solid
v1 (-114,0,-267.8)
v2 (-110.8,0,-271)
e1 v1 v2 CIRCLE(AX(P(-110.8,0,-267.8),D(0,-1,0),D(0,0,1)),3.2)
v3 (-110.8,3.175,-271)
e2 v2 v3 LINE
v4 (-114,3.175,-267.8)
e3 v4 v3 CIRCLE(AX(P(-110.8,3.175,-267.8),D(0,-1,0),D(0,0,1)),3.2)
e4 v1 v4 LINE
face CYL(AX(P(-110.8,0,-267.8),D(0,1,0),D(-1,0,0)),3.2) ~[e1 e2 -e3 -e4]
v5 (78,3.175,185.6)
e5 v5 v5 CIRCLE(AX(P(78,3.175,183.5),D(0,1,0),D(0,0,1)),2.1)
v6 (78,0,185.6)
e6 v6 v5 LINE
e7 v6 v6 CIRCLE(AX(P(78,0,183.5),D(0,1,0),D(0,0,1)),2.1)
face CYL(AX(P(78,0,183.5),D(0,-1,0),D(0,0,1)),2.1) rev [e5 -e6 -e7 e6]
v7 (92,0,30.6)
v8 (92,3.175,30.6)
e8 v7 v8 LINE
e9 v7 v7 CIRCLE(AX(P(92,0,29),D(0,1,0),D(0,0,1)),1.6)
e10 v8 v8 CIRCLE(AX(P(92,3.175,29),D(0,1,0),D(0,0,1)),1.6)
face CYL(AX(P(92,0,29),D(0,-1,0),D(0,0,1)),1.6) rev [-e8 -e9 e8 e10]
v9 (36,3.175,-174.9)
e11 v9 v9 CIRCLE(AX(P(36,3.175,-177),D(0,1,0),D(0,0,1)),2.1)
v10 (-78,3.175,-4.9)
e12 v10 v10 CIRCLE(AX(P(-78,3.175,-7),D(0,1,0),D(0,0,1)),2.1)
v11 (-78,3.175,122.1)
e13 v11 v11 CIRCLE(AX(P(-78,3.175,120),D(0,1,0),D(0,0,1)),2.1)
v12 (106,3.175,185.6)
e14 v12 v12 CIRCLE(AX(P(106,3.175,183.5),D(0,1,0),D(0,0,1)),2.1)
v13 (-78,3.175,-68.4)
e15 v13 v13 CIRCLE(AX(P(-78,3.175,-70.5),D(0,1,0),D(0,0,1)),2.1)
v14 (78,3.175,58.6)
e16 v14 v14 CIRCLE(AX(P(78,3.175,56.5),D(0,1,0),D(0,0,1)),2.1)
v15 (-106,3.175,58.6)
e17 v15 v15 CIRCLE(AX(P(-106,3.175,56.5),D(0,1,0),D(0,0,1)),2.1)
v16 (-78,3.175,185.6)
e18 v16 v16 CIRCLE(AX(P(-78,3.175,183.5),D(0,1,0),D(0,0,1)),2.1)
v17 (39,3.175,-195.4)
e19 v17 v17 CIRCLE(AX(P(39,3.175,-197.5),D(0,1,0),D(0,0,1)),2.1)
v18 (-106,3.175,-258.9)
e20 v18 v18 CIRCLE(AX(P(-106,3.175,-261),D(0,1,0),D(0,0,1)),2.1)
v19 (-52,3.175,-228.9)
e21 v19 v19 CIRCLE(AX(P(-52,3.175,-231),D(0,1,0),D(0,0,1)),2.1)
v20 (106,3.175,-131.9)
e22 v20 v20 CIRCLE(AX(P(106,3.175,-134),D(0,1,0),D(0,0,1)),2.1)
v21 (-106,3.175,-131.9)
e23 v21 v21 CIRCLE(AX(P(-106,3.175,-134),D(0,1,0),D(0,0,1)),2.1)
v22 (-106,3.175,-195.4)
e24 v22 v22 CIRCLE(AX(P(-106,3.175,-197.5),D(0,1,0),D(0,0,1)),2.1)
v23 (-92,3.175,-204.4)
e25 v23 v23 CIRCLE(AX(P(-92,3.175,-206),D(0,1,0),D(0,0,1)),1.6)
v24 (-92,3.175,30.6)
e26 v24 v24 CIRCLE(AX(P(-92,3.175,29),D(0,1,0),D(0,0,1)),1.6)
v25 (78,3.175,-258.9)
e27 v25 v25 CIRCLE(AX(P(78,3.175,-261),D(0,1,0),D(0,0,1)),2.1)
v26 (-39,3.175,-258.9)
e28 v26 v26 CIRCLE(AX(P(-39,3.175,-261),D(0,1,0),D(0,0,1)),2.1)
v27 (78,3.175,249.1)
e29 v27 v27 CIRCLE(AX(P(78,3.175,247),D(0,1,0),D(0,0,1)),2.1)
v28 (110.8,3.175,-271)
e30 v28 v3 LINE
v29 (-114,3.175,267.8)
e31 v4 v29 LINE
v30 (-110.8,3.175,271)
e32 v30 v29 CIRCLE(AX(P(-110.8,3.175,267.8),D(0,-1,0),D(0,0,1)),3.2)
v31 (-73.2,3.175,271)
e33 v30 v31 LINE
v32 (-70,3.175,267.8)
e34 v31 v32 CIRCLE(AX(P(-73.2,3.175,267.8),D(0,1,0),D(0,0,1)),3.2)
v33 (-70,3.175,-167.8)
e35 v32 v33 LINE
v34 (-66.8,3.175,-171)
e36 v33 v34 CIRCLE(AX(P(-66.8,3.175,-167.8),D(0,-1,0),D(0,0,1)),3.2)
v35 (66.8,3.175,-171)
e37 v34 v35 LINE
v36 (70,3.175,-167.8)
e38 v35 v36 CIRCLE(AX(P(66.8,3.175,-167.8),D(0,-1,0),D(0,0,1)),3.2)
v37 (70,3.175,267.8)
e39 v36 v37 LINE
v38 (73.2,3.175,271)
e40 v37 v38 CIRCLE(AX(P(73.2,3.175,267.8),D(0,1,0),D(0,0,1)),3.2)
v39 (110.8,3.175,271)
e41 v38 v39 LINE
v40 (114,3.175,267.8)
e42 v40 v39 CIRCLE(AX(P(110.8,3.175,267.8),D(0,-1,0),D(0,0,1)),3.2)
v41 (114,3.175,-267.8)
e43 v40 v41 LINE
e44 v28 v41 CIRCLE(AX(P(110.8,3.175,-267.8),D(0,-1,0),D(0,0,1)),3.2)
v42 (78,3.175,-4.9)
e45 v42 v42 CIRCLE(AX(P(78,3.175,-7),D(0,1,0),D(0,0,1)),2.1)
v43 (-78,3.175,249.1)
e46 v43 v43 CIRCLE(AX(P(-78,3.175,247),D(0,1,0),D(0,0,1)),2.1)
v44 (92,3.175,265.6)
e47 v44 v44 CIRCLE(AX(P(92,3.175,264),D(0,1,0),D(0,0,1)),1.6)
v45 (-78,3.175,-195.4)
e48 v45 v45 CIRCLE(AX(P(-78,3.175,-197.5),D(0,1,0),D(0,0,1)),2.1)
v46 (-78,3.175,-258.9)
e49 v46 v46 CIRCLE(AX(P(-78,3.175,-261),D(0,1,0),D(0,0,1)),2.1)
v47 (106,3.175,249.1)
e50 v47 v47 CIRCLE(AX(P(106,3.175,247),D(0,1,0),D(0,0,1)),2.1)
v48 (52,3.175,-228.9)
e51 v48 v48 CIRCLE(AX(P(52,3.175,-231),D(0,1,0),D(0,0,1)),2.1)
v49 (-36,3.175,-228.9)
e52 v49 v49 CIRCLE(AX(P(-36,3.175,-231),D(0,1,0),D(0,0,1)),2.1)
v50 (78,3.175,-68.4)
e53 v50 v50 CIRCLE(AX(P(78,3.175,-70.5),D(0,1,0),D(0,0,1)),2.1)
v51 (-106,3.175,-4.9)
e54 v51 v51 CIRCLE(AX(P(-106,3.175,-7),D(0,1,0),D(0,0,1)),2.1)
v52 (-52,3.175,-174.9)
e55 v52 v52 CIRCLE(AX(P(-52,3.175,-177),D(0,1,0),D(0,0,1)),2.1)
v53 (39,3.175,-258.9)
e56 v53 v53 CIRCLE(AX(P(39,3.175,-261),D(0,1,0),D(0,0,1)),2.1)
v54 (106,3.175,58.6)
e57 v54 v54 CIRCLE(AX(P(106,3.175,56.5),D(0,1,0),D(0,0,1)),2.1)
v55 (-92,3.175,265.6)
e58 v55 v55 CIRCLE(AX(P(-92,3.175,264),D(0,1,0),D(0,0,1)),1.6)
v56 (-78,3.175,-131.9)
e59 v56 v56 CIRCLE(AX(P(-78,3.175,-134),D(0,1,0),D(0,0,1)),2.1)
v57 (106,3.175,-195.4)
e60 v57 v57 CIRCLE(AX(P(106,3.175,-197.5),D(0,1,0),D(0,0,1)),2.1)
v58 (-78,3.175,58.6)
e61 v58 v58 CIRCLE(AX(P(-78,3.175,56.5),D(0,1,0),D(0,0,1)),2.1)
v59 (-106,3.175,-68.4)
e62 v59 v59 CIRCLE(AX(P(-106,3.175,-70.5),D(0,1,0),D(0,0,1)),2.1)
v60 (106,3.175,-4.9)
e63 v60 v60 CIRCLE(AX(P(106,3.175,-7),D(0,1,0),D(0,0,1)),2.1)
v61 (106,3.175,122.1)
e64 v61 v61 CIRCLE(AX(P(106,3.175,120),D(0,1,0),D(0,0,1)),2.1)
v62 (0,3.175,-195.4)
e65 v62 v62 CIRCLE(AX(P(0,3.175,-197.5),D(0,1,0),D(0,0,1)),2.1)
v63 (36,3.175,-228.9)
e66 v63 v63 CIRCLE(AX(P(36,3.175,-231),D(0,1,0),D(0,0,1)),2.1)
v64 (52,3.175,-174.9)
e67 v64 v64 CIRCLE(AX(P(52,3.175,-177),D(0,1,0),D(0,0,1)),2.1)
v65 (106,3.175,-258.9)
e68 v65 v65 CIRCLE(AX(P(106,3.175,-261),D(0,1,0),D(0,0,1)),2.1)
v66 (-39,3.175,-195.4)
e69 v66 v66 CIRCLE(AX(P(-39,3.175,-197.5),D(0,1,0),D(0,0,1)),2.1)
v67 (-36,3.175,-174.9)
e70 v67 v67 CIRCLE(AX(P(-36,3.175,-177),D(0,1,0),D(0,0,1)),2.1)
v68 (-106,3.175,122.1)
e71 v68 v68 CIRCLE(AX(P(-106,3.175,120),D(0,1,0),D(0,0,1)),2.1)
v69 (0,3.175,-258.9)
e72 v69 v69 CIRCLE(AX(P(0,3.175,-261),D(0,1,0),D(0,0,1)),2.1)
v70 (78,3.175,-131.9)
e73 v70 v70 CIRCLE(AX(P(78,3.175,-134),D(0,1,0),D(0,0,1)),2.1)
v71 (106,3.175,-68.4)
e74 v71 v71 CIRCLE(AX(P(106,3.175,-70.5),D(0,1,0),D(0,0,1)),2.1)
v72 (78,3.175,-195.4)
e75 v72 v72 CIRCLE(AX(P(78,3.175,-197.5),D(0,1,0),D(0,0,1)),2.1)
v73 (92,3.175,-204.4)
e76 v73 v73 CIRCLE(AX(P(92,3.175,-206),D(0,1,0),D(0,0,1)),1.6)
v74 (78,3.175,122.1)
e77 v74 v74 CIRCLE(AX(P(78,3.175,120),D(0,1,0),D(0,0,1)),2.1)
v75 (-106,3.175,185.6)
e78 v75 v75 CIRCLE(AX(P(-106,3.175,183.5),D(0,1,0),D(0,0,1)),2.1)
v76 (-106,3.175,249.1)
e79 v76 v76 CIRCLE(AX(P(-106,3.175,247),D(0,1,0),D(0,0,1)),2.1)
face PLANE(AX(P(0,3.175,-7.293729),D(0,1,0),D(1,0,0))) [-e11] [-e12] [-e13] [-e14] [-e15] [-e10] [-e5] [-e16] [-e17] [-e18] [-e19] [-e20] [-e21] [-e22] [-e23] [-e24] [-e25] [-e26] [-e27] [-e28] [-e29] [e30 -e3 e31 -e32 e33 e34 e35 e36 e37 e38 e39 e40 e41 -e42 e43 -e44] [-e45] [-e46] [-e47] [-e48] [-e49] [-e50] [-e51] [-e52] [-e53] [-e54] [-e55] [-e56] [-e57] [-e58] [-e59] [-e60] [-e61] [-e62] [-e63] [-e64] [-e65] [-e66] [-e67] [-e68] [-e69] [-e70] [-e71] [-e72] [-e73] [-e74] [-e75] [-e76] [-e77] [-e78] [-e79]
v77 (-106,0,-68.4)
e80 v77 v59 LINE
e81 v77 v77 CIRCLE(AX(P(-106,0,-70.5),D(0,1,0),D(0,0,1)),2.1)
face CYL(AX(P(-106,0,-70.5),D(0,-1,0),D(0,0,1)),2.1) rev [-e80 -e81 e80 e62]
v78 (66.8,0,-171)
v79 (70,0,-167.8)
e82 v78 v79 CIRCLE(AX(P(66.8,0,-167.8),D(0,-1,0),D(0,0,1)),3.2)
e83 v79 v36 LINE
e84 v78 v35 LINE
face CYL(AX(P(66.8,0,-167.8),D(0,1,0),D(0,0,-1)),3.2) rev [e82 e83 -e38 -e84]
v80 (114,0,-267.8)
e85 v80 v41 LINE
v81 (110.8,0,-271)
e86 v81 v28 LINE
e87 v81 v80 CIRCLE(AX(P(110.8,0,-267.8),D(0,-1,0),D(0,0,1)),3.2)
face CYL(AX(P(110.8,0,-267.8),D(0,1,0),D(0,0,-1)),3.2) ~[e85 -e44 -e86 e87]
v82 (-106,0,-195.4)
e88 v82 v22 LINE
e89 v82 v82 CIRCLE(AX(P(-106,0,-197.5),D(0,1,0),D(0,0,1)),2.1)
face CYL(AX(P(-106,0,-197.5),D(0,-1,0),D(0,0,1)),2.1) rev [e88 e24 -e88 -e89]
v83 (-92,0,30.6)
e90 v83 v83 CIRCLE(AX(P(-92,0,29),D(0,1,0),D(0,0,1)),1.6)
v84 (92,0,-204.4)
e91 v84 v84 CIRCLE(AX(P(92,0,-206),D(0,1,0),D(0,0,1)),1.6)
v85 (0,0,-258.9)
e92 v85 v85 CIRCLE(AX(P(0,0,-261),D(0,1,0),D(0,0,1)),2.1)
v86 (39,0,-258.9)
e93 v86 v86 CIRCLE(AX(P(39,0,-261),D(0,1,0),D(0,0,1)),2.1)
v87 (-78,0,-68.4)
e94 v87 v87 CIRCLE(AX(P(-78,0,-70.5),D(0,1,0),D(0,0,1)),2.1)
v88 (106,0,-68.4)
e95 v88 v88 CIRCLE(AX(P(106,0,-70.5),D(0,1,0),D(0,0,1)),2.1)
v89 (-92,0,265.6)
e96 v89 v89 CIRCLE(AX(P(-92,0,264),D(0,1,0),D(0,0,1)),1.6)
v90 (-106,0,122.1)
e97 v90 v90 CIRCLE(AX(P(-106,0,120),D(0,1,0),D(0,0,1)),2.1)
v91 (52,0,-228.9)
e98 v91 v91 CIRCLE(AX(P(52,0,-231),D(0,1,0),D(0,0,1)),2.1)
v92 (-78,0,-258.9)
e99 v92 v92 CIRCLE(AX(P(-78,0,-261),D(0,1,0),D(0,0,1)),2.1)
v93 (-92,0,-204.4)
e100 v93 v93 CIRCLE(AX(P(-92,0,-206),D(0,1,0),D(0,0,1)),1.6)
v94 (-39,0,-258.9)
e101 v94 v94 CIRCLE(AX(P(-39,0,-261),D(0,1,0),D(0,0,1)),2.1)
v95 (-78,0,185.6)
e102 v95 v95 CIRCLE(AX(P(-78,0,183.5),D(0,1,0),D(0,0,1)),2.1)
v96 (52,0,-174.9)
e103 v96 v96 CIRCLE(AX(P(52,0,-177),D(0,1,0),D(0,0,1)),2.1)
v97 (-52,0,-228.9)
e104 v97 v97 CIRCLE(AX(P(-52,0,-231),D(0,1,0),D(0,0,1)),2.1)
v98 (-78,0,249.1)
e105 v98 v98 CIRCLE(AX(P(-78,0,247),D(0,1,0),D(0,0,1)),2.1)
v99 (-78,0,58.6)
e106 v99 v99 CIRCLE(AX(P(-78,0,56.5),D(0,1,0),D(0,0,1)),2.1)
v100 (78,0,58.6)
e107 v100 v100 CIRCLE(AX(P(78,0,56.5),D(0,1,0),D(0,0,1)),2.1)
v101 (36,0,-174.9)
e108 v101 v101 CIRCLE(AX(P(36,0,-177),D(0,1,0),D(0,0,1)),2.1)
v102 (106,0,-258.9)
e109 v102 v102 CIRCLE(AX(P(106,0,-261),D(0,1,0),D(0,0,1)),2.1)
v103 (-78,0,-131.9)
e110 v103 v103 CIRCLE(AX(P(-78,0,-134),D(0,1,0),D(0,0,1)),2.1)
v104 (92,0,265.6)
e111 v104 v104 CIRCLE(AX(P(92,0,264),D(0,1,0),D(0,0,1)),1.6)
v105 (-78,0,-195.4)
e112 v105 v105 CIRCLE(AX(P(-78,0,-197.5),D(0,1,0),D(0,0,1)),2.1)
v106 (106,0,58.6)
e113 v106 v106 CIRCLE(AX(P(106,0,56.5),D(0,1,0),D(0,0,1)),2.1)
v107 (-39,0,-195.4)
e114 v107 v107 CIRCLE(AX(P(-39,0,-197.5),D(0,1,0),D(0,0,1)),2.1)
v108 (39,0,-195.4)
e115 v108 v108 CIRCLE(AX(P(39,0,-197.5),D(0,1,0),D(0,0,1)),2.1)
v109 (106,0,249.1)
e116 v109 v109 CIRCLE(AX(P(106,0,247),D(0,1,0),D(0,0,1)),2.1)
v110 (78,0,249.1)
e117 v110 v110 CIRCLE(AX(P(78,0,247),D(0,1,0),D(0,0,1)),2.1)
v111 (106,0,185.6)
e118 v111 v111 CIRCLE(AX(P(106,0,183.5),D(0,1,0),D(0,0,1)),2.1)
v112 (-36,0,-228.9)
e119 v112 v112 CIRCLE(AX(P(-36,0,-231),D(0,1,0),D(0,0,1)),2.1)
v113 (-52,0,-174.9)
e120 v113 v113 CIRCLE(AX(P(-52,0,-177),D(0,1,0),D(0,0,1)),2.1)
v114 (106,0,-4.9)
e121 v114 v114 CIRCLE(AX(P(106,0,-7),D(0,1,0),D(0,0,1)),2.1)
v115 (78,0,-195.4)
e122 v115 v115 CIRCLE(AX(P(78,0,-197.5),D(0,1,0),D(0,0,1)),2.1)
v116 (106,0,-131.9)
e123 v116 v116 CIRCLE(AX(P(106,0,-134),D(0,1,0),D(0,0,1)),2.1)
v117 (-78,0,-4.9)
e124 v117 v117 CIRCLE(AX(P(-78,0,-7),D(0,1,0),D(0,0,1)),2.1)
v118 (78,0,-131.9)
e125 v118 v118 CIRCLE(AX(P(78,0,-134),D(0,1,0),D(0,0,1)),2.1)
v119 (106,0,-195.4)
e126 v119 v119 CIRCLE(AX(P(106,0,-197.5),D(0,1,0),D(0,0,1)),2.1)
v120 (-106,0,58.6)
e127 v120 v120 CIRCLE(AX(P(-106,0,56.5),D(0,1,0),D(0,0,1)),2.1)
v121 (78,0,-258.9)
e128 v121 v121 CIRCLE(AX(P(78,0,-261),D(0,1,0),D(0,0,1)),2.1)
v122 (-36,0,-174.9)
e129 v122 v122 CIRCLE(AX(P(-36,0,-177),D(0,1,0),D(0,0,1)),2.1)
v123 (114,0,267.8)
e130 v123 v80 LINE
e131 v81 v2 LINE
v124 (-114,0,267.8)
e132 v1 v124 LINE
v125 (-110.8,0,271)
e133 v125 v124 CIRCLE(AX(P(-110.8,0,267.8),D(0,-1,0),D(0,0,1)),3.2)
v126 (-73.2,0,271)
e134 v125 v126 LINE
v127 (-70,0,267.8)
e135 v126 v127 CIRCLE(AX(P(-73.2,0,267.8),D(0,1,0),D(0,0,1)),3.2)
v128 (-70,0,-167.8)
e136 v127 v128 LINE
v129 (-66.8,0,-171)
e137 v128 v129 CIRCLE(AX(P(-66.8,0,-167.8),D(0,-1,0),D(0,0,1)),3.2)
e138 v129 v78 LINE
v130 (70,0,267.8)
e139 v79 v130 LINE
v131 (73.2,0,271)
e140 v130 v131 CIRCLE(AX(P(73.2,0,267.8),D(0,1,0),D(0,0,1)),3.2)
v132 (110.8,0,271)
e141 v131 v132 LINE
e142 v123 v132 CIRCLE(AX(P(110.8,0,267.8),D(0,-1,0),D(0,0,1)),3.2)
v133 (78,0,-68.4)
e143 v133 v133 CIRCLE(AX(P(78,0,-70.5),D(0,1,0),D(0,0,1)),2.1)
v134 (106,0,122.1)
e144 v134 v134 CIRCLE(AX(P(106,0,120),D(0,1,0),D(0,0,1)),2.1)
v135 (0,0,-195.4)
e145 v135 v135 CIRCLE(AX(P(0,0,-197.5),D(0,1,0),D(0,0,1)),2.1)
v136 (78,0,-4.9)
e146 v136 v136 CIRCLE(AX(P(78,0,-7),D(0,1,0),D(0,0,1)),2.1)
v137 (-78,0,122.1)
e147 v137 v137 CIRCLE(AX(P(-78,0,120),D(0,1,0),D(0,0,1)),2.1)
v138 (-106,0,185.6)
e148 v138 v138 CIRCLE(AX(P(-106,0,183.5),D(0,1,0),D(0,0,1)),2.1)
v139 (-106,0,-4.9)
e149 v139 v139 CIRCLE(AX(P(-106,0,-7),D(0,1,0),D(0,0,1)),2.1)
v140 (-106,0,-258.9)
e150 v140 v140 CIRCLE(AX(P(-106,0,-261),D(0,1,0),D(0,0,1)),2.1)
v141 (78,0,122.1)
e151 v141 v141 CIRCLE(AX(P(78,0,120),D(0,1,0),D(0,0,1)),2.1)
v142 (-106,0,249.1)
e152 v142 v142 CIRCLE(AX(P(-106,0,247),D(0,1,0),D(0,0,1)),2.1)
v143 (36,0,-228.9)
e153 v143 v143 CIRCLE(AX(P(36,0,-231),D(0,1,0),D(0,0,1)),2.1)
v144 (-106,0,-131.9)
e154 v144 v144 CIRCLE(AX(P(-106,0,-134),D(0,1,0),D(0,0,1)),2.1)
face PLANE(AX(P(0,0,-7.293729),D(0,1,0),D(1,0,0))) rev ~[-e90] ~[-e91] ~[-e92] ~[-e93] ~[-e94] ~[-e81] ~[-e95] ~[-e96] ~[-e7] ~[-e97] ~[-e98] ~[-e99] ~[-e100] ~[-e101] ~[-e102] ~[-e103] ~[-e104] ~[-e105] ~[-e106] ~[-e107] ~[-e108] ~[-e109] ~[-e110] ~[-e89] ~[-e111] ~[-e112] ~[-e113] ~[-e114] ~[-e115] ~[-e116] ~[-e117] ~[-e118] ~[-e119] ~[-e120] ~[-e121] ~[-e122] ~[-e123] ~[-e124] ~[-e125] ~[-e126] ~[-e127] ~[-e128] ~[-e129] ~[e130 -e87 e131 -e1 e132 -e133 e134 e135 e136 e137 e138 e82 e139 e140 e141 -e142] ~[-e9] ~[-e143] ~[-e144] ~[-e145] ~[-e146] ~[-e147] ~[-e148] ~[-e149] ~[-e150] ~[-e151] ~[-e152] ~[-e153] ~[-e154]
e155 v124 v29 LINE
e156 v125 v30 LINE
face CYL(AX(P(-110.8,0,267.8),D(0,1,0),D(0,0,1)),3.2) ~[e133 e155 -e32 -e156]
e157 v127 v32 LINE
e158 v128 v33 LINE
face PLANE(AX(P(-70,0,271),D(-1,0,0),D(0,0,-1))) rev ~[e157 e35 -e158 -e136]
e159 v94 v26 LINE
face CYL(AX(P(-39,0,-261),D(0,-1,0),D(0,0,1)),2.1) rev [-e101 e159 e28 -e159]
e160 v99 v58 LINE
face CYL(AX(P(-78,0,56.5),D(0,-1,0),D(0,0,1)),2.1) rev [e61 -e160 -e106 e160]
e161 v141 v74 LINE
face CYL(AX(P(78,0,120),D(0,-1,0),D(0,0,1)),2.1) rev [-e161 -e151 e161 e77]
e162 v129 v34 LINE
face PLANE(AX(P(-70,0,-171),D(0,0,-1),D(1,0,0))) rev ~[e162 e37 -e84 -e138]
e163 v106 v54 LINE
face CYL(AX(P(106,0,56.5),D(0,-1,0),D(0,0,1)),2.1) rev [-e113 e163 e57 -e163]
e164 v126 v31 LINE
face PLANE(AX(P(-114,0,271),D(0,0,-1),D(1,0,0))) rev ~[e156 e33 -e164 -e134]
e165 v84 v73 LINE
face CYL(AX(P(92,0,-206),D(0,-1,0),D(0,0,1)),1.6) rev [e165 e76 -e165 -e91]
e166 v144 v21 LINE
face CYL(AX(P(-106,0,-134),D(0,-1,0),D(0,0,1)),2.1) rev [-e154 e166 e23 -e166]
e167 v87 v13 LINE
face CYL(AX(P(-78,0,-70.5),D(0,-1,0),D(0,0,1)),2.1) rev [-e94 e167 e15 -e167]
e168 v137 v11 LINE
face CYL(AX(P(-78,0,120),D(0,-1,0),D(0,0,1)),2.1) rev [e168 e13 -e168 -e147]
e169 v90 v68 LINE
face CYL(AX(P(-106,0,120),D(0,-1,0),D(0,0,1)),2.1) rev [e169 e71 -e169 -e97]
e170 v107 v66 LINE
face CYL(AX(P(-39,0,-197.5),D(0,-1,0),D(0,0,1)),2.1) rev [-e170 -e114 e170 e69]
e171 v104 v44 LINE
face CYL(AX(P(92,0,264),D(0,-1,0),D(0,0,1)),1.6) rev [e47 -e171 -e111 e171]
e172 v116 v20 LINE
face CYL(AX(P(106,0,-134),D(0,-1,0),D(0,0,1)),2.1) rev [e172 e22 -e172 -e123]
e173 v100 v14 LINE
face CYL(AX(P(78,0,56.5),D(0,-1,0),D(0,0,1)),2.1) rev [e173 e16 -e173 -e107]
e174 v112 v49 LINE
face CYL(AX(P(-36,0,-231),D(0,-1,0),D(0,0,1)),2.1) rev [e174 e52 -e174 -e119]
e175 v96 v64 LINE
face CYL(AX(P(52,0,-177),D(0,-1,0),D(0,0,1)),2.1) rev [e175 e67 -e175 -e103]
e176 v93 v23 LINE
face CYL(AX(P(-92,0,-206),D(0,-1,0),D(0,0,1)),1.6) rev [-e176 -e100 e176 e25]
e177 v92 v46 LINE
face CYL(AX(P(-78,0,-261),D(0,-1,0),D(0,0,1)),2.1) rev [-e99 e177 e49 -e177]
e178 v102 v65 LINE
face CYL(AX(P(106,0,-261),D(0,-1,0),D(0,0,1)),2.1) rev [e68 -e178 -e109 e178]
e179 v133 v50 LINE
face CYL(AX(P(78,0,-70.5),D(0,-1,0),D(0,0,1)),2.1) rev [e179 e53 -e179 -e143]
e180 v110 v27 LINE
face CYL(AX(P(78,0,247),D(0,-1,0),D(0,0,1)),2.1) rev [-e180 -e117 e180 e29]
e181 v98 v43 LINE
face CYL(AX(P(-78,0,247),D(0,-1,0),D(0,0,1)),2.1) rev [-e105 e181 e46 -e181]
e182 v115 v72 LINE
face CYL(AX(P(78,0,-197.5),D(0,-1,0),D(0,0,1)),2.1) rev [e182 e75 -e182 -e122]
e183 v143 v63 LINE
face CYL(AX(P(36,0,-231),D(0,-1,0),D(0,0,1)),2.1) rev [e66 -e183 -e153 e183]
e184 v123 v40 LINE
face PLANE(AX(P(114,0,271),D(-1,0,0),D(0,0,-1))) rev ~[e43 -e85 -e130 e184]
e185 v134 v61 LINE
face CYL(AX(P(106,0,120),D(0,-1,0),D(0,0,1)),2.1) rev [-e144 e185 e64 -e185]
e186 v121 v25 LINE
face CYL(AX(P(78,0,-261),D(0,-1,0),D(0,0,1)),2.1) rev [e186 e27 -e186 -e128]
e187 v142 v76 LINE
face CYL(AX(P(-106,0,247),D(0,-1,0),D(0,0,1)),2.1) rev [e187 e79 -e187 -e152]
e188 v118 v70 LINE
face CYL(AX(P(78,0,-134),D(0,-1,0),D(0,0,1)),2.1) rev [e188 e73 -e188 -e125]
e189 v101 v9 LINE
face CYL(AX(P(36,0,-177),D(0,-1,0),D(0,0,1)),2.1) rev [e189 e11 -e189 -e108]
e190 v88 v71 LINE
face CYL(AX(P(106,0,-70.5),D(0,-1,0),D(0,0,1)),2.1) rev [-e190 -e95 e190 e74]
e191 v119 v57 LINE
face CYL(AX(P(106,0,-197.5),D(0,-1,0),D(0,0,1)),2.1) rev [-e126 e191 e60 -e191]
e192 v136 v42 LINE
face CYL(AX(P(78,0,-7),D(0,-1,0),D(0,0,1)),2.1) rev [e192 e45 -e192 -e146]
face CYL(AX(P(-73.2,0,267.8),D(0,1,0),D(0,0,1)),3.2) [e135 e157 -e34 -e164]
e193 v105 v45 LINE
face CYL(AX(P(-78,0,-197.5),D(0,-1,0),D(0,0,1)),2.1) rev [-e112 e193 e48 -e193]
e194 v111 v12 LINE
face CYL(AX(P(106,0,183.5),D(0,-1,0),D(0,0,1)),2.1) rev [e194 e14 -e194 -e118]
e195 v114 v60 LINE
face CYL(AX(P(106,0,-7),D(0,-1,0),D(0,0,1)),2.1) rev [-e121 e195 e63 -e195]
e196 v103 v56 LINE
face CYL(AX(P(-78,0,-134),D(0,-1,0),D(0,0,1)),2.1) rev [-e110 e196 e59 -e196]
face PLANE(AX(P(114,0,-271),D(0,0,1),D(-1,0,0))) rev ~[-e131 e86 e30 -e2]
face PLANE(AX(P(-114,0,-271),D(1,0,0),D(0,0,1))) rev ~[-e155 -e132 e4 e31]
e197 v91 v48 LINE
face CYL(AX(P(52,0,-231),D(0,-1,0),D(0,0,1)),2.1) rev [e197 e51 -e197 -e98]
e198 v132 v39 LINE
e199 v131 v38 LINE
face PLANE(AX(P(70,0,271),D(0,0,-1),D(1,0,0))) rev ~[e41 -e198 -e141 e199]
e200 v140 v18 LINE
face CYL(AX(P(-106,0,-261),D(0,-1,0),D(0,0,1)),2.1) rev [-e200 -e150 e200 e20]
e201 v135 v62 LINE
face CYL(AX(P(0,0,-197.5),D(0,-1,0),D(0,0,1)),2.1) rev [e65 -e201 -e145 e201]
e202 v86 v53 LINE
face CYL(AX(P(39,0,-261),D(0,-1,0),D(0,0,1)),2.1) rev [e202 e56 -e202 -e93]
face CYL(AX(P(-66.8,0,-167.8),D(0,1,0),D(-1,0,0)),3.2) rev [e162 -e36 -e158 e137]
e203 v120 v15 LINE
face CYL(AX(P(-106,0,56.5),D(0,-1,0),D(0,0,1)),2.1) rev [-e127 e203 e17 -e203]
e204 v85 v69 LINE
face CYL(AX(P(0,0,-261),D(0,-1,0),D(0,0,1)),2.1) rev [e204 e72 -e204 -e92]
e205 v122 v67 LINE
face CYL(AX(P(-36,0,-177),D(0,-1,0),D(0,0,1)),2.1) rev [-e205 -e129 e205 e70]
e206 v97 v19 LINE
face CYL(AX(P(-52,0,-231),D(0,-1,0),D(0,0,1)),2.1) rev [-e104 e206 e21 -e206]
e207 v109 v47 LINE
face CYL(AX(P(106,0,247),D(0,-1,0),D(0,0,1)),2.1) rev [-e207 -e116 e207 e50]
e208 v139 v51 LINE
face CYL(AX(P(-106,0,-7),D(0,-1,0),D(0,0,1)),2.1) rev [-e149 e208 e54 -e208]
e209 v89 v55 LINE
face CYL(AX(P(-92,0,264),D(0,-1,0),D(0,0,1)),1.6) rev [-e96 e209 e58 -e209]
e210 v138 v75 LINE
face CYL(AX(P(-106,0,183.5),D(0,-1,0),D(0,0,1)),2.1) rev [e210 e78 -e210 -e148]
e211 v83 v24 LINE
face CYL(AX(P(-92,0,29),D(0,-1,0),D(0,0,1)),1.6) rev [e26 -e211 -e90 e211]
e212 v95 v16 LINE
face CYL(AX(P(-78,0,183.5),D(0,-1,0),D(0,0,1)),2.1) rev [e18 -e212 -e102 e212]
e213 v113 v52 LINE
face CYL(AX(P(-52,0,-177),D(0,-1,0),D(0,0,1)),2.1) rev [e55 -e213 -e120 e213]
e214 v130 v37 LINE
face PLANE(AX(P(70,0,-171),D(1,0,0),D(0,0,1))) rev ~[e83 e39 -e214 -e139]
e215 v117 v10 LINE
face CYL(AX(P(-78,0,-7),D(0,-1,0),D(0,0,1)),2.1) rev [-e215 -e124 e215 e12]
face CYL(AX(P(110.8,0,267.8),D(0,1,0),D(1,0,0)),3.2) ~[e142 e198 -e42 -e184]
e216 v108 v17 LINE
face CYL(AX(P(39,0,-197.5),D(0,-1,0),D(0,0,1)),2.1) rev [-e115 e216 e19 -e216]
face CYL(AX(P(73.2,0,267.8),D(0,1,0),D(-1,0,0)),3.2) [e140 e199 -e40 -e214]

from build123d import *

# Parameters (mm, degrees)
SKETCH1_R           = 2.1
SKETCH1_R_2         = 1.6
BOSS_EXTRUDE1_DEPTH = 3.175
FILLET1_R           = 3.2


with BuildPart() as part:
    # Sketch1 → Boss-Extrude1 (new body)
    with BuildSketch(Plane(origin=(0, 0, 0), x_dir=(1, 0, 0), z_dir=(0, 1, 0))):
        Polygon((-114, -271), (-70, -271), (-70, 171), (70, 171), (70, -271), (114, -271), (114, 271), (-114, 271), align=None)
        with Locations(Location((106, 261, 0), (0, 0, 270))):
            Circle(SKETCH1_R, mode=Mode.SUBTRACT)
        with Locations(Location((106, 197.5, 0), (0, 0, 270))):
            Circle(SKETCH1_R, mode=Mode.SUBTRACT)
        with Locations(Location((106, 134, 0), (0, 0, 270))):
            Circle(SKETCH1_R, mode=Mode.SUBTRACT)
        with Locations(Location((106, 70.5, 0), (0, 0, 270))):
            Circle(SKETCH1_R, mode=Mode.SUBTRACT)
        with Locations(Location((106, 7, 0), (0, 0, 270))):
            Circle(SKETCH1_R, mode=Mode.SUBTRACT)
        with Locations(Location((106, -56.5, 0), (0, 0, 270))):
            Circle(SKETCH1_R, mode=Mode.SUBTRACT)
        with Locations(Location((106, -120, 0), (0, 0, 270))):
            Circle(SKETCH1_R, mode=Mode.SUBTRACT)
        with Locations(Location((106, -183.5, 0), (0, 0, 270))):
            Circle(SKETCH1_R, mode=Mode.SUBTRACT)
        with Locations(Location((78, -247, 0), (0, 0, 270))):
            Circle(SKETCH1_R, mode=Mode.SUBTRACT)
        with Locations(Location((78, -183.5, 0), (0, 0, 270))):
            Circle(SKETCH1_R, mode=Mode.SUBTRACT)
        with Locations(Location((78, -120, 0), (0, 0, 270))):
            Circle(SKETCH1_R, mode=Mode.SUBTRACT)
        with Locations(Location((78, -56.5, 0), (0, 0, 270))):
            Circle(SKETCH1_R, mode=Mode.SUBTRACT)
        with Locations(Location((78, 7, 0), (0, 0, 270))):
            Circle(SKETCH1_R, mode=Mode.SUBTRACT)
        with Locations(Location((78, 70.5, 0), (0, 0, 270))):
            Circle(SKETCH1_R, mode=Mode.SUBTRACT)
        with Locations(Location((78, 134, 0), (0, 0, 270))):
            Circle(SKETCH1_R, mode=Mode.SUBTRACT)
        with Locations(Location((78, 197.5, 0), (0, 0, 270))):
            Circle(SKETCH1_R, mode=Mode.SUBTRACT)
        with Locations(Location((78, 261, 0), (0, 0, 270))):
            Circle(SKETCH1_R, mode=Mode.SUBTRACT)
        with Locations(Location((92, -29, 0), (0, 0, 270))):
            Circle(SKETCH1_R_2, mode=Mode.SUBTRACT)
        with Locations(Location((92, 206, 0), (0, 0, 270))):
            Circle(SKETCH1_R_2, mode=Mode.SUBTRACT)
        with Locations(Location((92, -264, 0), (0, 0, 270))):
            Circle(SKETCH1_R_2, mode=Mode.SUBTRACT)
        with Locations(Location((-106, 261, 0), (0, 0, 270))):
            Circle(SKETCH1_R, mode=Mode.SUBTRACT)
        with Locations(Location((-78, 261, 0), (0, 0, 270))):
            Circle(SKETCH1_R, mode=Mode.SUBTRACT)
        with Locations(Location((-92, 206, 0), (0, 0, 270))):
            Circle(SKETCH1_R_2, mode=Mode.SUBTRACT)
        with Locations(Location((-78, 70.5, 0), (0, 0, 270))):
            Circle(SKETCH1_R, mode=Mode.SUBTRACT)
        with Locations(Location((-106, 70.5, 0), (0, 0, 270))):
            Circle(SKETCH1_R, mode=Mode.SUBTRACT)
        with Locations(Location((-106, 134, 0), (0, 0, 270))):
            Circle(SKETCH1_R, mode=Mode.SUBTRACT)
        with Locations(Location((-106, 197.5, 0), (0, 0, 270))):
            Circle(SKETCH1_R, mode=Mode.SUBTRACT)
        with Locations(Location((-92, -264, 0), (0, 0, 270))):
            Circle(SKETCH1_R_2, mode=Mode.SUBTRACT)
        with Locations(Location((-92, -29, 0), (0, 0, 270))):
            Circle(SKETCH1_R_2, mode=Mode.SUBTRACT)
        with Locations(Location((-78, 7, 0), (0, 0, 270))):
            Circle(SKETCH1_R, mode=Mode.SUBTRACT)
        with Locations(Location((-78, -56.5, 0), (0, 0, 270))):
            Circle(SKETCH1_R, mode=Mode.SUBTRACT)
        with Locations(Location((-78, -120, 0), (0, 0, 270))):
            Circle(SKETCH1_R, mode=Mode.SUBTRACT)
        with Locations(Location((-78, -183.5, 0), (0, 0, 270))):
            Circle(SKETCH1_R, mode=Mode.SUBTRACT)
        with Locations(Location((-78, -247, 0), (0, 0, 270))):
            Circle(SKETCH1_R, mode=Mode.SUBTRACT)
        with Locations(Location((-106, -247, 0), (0, 0, 270))):
            Circle(SKETCH1_R, mode=Mode.SUBTRACT)
        with Locations(Location((-106, -183.5, 0), (0, 0, 270))):
            Circle(SKETCH1_R, mode=Mode.SUBTRACT)
        with Locations(Location((-106, -120, 0), (0, 0, 270))):
            Circle(SKETCH1_R, mode=Mode.SUBTRACT)
        with Locations(Location((-106, -56.5, 0), (0, 0, 270))):
            Circle(SKETCH1_R, mode=Mode.SUBTRACT)
        with Locations(Location((-106, 7, 0), (0, 0, 270))):
            Circle(SKETCH1_R, mode=Mode.SUBTRACT)
        with Locations(Location((-78, 197.5, 0), (0, 0, 270))):
            Circle(SKETCH1_R, mode=Mode.SUBTRACT)
        with Locations(Location((-78, 134, 0), (0, 0, 270))):
            Circle(SKETCH1_R, mode=Mode.SUBTRACT)
        with Locations(Location((-52, 177, 0), (0, 0, 270))):
            Circle(SKETCH1_R, mode=Mode.SUBTRACT)
        with Locations(Location((-36, 177, 0), (0, 0, 270))):
            Circle(SKETCH1_R, mode=Mode.SUBTRACT)
        with Locations(Location((-36, 231, 0), (0, 0, 270))):
            Circle(SKETCH1_R, mode=Mode.SUBTRACT)
        with Locations(Location((-52, 231, 0), (0, 0, 270))):
            Circle(SKETCH1_R, mode=Mode.SUBTRACT)
        with Locations(Location((36, 177, 0), (0, 0, 270))):
            Circle(SKETCH1_R, mode=Mode.SUBTRACT)
        with Locations(Location((52, 177, 0), (0, 0, 270))):
            Circle(SKETCH1_R, mode=Mode.SUBTRACT)
        with Locations(Location((52, 231, 0), (0, 0, 270))):
            Circle(SKETCH1_R, mode=Mode.SUBTRACT)
        with Locations(Location((36, 231, 0), (0, 0, 270))):
            Circle(SKETCH1_R, mode=Mode.SUBTRACT)
        with Locations(Location((-39, 197.5, 0), (0, 0, 270))):
            Circle(SKETCH1_R, mode=Mode.SUBTRACT)
        with Locations(Location((-39, 261, 0), (0, 0, 270))):
            Circle(SKETCH1_R, mode=Mode.SUBTRACT)
        with Locations(Location((106, -247, 0), (0, 0, 270))):
            Circle(SKETCH1_R, mode=Mode.SUBTRACT)
        with Locations(Location((0, 197.5, 0), (0, 0, 270))):
            Circle(SKETCH1_R, mode=Mode.SUBTRACT)
        with Locations(Location((0, 261, 0), (0, 0, 270))):
            Circle(SKETCH1_R, mode=Mode.SUBTRACT)
        with Locations(Location((39, 197.5, 0), (0, 0, 270))):
            Circle(SKETCH1_R, mode=Mode.SUBTRACT)
        with Locations(Location((39, 261, 0), (0, 0, 270))):
            Circle(SKETCH1_R, mode=Mode.SUBTRACT)
    extrude(amount=BOSS_EXTRUDE1_DEPTH)

    # Fillet1
    fillet1_edges = [part.edges().sort_by_distance(p)[0] for p in [
        (70, 1.5875, -171),
        (-70, 1.5875, -171),
        (-70, 1.5875, 271),
        (-114, 1.5875, 271),
        (-114, 1.5875, -271),
        (114, 1.5875, -271),
        (114, 1.5875, 271),
        (70, 1.5875, 271),
    ]]
    fillet(fillet1_edges, radius=FILLET1_R)


solid = part.part
